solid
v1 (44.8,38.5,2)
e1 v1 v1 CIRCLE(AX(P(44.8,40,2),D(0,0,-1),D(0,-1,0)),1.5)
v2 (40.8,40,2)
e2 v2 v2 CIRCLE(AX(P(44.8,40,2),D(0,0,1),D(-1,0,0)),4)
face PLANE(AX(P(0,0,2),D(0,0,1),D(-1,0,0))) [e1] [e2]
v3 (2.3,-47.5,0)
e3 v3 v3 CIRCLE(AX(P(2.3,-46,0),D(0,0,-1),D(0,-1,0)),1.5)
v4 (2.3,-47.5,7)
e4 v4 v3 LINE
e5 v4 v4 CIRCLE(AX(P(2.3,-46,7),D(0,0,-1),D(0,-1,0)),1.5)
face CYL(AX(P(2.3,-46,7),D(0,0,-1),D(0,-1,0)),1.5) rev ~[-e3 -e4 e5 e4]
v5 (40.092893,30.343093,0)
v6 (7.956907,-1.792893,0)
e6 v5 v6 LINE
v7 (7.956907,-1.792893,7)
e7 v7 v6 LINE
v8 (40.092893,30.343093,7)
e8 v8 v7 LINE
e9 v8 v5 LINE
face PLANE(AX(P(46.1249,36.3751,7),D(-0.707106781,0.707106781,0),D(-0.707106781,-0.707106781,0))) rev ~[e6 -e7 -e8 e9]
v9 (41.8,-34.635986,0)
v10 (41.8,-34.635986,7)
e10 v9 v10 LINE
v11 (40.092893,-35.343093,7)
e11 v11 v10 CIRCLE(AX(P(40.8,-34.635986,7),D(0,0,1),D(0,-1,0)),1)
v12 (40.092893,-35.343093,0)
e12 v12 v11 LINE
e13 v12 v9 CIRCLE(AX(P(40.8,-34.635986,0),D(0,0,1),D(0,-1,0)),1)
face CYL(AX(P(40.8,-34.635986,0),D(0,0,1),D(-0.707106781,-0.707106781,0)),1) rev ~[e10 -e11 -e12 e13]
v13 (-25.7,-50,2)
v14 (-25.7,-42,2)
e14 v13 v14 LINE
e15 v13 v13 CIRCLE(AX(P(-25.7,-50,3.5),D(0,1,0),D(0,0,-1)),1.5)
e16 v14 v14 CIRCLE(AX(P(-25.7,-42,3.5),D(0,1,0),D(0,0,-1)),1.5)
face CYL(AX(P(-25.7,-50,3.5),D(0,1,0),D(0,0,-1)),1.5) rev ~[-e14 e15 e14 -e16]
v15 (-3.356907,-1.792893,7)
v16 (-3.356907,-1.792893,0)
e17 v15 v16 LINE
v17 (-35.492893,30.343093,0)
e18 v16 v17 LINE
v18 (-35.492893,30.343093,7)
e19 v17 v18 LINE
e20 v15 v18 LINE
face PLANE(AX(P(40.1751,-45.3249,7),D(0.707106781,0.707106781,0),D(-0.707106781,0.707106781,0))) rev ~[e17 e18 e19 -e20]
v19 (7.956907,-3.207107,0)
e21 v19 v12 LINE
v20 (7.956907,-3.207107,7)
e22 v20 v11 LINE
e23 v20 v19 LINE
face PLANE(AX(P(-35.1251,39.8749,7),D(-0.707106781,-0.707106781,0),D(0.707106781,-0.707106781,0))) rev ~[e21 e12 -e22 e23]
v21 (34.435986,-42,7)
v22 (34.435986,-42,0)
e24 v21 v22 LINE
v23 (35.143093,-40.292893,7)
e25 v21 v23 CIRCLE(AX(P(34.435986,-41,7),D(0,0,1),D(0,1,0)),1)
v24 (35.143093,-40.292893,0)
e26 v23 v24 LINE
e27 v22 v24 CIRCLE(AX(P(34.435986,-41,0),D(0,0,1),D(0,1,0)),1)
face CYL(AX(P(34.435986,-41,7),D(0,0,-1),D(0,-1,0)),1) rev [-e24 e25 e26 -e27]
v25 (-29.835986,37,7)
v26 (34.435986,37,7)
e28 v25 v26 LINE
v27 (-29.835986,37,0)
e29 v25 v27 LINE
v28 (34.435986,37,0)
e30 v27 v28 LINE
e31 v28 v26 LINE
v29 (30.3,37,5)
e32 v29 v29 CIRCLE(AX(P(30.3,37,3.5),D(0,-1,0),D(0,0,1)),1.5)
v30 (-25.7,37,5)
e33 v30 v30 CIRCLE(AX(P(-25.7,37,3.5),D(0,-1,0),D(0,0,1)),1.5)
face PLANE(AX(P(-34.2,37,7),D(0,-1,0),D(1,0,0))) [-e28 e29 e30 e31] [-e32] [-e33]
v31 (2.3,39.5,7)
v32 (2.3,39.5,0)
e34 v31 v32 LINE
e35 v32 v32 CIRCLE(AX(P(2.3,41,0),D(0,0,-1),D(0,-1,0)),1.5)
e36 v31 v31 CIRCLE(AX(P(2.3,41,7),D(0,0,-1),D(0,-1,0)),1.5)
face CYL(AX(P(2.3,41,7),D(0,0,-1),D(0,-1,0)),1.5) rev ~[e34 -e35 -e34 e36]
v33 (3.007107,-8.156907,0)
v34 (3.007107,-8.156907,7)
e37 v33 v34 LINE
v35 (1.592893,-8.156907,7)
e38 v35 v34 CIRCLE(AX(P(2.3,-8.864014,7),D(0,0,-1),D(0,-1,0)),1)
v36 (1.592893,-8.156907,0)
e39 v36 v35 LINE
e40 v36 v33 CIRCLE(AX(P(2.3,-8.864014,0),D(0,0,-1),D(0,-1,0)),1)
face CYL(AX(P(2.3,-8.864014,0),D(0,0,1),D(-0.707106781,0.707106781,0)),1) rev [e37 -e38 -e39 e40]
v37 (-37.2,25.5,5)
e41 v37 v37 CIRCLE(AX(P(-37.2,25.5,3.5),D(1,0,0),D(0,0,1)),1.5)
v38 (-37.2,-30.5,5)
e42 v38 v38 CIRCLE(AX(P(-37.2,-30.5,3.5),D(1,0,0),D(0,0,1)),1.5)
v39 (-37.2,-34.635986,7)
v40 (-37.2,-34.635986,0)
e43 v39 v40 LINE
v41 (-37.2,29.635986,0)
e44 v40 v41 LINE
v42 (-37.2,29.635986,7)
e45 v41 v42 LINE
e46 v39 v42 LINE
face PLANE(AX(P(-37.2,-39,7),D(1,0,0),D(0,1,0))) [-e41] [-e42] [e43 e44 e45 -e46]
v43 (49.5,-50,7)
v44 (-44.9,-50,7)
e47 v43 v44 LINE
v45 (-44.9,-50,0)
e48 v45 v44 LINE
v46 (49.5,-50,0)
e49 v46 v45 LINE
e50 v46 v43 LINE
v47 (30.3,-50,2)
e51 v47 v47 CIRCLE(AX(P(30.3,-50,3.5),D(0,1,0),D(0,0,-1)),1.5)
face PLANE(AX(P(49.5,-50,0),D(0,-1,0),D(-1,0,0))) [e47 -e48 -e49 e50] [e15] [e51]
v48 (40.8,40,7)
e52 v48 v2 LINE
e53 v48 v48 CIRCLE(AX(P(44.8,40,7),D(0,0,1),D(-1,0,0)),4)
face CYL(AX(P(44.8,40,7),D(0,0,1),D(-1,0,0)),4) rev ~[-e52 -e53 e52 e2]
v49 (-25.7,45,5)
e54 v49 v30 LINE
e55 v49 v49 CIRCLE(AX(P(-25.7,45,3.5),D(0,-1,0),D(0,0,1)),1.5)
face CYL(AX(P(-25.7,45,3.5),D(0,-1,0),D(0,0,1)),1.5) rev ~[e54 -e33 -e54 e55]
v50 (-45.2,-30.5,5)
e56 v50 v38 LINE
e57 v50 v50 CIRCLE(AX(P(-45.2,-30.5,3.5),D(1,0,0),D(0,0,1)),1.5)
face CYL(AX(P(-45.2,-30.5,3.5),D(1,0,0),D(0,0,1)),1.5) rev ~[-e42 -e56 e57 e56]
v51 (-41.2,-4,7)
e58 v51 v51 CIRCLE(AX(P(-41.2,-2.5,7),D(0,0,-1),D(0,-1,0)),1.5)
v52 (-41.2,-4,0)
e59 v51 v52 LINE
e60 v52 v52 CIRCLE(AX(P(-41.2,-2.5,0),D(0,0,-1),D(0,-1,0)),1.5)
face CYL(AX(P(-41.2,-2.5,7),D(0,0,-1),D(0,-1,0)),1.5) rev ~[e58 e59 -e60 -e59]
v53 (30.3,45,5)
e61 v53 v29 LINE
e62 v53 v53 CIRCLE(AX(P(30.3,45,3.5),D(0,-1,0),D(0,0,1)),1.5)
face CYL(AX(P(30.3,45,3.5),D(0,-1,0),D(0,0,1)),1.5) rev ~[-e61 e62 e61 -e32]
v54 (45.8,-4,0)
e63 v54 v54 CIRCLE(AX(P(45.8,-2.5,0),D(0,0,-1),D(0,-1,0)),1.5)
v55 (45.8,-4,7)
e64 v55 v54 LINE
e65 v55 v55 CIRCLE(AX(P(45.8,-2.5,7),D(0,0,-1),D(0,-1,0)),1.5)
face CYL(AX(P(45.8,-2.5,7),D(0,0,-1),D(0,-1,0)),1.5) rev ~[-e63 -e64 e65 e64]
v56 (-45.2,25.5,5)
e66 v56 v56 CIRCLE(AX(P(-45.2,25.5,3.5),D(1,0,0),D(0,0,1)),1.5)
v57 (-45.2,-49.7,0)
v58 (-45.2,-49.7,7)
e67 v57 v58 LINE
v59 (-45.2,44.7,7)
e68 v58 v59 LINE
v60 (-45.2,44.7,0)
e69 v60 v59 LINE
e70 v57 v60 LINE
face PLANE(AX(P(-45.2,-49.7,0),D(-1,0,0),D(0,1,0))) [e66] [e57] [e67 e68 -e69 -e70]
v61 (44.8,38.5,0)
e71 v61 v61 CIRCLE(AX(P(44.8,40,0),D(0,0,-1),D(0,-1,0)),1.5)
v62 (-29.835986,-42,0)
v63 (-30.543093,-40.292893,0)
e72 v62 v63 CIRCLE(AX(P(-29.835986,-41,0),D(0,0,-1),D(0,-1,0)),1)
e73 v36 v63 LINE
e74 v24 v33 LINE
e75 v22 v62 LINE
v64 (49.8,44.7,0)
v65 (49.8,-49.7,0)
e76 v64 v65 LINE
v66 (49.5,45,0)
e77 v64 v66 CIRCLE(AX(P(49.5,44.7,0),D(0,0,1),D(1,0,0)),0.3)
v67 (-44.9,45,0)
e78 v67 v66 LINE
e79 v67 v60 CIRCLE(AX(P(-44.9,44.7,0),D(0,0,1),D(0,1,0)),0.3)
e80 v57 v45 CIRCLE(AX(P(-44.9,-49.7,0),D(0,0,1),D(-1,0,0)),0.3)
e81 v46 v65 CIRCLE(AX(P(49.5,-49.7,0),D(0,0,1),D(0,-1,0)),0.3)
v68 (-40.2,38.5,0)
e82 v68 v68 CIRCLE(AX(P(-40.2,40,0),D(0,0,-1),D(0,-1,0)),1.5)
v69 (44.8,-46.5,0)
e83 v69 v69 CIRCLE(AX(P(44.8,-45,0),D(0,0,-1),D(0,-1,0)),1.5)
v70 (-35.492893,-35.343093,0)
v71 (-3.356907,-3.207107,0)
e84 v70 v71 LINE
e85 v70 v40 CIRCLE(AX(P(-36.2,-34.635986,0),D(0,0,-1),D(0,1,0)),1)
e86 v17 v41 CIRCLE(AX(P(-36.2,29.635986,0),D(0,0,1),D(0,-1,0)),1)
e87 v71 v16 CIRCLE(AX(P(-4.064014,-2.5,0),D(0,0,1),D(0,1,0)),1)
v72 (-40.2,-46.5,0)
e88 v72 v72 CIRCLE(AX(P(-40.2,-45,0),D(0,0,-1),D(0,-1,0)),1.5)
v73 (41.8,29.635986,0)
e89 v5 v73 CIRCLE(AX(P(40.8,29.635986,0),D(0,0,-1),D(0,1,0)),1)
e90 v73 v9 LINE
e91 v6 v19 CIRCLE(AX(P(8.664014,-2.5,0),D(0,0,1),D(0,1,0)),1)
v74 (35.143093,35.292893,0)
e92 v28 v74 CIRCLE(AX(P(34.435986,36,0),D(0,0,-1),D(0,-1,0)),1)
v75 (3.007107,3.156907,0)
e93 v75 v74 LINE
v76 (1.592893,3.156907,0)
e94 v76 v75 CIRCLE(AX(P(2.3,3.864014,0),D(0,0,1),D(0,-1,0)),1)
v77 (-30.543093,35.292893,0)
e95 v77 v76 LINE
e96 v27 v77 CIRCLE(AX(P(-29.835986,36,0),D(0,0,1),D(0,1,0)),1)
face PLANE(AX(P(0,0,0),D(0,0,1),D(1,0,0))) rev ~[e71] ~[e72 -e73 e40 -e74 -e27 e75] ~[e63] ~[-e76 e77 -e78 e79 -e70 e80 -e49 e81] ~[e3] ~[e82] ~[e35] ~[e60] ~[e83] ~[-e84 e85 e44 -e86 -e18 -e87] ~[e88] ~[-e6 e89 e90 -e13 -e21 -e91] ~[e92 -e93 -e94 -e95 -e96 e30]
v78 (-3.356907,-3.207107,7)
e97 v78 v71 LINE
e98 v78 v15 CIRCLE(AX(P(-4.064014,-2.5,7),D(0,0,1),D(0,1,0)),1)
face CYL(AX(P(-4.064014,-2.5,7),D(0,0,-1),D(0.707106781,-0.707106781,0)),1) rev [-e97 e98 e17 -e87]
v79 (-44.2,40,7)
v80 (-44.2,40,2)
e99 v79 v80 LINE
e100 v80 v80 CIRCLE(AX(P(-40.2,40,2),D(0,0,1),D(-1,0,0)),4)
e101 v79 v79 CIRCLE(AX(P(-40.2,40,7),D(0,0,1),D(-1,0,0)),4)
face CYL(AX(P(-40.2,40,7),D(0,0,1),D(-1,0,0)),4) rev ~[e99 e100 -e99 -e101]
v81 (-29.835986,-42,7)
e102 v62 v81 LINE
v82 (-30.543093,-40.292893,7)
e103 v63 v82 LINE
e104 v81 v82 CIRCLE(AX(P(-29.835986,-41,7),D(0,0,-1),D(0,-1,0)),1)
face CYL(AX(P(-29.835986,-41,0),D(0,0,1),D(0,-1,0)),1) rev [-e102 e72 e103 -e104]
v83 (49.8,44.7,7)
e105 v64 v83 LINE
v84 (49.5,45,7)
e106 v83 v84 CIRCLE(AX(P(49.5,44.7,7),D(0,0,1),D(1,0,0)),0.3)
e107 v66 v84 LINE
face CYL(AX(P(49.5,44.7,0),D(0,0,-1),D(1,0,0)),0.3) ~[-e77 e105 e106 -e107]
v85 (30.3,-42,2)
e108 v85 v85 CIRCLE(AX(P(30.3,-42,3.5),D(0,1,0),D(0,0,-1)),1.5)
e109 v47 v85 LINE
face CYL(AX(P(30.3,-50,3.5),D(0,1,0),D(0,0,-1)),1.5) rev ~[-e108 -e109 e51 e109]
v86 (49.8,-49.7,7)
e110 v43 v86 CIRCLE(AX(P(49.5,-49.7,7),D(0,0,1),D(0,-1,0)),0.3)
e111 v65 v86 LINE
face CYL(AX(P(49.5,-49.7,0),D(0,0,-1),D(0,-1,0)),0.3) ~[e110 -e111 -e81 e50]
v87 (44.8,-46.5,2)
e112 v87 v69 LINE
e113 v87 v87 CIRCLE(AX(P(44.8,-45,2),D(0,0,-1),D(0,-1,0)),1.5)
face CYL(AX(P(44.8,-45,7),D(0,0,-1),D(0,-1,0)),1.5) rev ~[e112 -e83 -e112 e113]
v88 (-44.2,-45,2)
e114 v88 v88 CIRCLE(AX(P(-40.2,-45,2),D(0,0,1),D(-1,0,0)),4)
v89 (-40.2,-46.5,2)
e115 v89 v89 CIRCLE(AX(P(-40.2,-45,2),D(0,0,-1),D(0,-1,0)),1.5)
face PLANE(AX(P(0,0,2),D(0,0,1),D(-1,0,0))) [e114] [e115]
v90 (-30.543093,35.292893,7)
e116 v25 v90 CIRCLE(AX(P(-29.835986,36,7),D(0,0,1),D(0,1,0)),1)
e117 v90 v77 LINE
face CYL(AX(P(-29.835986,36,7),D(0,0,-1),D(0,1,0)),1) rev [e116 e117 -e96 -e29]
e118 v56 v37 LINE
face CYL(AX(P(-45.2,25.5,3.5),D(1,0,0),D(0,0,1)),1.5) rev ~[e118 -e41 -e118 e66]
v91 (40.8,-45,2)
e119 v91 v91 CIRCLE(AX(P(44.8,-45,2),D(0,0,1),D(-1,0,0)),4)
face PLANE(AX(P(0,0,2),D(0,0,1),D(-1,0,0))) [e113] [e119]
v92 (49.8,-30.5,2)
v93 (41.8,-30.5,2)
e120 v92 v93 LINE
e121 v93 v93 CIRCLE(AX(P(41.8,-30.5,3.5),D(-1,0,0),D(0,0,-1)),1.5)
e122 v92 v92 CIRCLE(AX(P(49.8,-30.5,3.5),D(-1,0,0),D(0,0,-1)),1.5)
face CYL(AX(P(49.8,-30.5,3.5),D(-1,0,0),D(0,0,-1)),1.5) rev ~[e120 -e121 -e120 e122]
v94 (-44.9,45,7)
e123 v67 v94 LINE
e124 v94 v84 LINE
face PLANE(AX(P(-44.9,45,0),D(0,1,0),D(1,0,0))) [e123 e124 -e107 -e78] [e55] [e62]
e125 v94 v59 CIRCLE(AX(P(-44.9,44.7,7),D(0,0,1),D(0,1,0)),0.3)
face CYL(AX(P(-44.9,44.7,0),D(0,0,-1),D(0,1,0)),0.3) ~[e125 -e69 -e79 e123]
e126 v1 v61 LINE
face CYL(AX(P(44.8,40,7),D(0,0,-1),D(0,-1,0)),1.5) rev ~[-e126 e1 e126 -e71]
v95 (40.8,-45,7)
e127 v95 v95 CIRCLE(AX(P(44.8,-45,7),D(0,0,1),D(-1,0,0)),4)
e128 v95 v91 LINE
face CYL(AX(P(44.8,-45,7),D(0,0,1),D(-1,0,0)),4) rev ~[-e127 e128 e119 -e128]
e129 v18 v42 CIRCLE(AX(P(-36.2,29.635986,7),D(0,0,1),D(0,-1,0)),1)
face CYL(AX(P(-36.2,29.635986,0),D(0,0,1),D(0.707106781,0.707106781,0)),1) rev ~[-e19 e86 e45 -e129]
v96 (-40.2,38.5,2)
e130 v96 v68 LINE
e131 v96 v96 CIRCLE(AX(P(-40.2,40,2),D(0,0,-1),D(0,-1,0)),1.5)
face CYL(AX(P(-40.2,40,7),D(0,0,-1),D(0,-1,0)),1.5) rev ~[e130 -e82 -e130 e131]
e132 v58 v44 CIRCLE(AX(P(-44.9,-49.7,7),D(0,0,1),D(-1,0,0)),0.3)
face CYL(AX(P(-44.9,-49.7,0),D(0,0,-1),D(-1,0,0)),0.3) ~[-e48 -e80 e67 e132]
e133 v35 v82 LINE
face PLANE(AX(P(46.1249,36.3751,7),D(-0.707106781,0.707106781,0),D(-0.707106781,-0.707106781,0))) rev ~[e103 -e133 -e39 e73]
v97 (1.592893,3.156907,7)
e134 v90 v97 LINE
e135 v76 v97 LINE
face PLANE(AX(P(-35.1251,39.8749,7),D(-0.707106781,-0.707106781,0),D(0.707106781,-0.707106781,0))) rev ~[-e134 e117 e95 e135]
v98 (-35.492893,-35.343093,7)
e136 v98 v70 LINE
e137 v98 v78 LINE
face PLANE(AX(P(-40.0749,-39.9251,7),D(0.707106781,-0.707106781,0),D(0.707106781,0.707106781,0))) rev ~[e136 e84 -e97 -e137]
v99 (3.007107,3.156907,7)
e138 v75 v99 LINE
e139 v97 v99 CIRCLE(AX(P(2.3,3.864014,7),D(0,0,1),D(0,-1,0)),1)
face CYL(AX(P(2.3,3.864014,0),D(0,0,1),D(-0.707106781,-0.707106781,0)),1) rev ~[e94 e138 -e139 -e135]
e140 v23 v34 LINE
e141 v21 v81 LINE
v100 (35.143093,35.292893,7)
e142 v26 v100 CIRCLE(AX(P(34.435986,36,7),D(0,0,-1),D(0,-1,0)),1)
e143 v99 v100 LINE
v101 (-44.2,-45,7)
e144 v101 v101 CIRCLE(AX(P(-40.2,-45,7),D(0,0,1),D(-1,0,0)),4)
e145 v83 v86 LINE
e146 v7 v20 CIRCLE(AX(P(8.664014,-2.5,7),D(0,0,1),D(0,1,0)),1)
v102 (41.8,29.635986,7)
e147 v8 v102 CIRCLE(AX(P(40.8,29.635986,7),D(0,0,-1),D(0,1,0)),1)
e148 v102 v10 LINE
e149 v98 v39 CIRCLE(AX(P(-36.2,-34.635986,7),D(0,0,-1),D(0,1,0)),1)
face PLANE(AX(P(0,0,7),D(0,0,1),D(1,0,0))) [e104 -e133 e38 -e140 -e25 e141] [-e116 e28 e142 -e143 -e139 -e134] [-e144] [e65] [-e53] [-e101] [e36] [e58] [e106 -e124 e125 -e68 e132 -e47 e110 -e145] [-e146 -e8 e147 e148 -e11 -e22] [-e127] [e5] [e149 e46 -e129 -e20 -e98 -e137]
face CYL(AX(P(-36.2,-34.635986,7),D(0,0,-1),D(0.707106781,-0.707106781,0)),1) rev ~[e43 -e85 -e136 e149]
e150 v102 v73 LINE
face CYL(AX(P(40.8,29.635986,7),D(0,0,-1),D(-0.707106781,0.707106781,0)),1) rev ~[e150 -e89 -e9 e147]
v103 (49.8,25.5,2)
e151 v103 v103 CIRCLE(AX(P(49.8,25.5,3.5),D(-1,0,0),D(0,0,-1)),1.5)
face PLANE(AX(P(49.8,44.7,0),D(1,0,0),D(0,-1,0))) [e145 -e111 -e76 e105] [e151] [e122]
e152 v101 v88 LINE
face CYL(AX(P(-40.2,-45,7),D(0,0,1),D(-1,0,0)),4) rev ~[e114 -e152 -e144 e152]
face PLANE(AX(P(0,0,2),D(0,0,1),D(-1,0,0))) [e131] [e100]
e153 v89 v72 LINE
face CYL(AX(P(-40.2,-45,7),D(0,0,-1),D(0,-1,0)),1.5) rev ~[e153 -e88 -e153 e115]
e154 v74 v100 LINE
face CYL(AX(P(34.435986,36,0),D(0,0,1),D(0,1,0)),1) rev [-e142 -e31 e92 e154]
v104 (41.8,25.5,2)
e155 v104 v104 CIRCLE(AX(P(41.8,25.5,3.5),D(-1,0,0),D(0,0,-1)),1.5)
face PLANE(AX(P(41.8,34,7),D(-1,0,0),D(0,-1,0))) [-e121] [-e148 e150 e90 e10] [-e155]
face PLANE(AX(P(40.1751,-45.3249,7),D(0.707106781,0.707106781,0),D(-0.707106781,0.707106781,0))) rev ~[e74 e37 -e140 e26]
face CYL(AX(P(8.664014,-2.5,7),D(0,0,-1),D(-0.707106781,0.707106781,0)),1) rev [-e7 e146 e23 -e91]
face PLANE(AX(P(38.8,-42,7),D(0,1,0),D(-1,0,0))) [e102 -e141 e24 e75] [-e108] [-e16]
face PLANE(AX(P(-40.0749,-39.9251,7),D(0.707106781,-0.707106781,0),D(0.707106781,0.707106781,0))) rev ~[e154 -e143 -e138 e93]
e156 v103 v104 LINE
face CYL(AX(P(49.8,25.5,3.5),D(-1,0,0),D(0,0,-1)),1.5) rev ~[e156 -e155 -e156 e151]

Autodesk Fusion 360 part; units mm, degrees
sketch "Sketch1" plane through (0, 0, 0) normal (0, 0, 1) x (1, 0, 0)
  line L0 (-44.9, 45) -> (49.5, 45)
  line L1 (49.8, 44.7) -> (49.8, -49.7)
  line L2 (49.5, -50) -> (-44.9, -50)
  line L3 (-45.2, -49.7) -> (-45.2, 44.7)
  arc A0 (-44.9, 45) -> (-45.2, 44.7) centre (-44.9, 44.7) ccw
  arc A1 (49.8, 44.7) -> (49.5, 45) centre (49.5, 44.7) ccw
  arc A2 (49.5, -50) -> (49.8, -49.7) centre (49.5, -49.7) ccw
  arc A3 (-45.2, -49.7) -> (-44.9, -50) centre (-44.9, -49.7) ccw
  point P0 (-45.2, 45)
  point P1 (49.8, 45)
  point P2 (-45.2, -50)
  dimension "d1" = 95
  dimension "d2" = 95
  dimension "d3" = 0.3
  dimension "d4" = 0.3
extrude "Extrude1" add sketch "Sketch1" along normal blind 7
sketch "Sketch2" plane through (0, 0, 7) normal (0, 0, 1) x (-1, 0, 0)
  arc A0 (44.9, -45) -> (45.2, -44.7) centre (44.9, -44.7) ccw
  line L0 (45.2, -44.7) -> (45.2, 49.7)
  arc A1 (45.2, 49.7) -> (44.9, 50) centre (44.9, 49.7) ccw
  line L1 (44.9, 50) -> (-49.5, 50)
  arc A2 (-49.5, 50) -> (-49.8, 49.7) centre (-49.5, 49.7) ccw
  line L2 (-49.8, 49.7) -> (-49.8, -44.7)
  arc A3 (-49.8, -44.7) -> (-49.5, -45) centre (-49.5, -44.7) ccw
  line L3 (-49.5, -45) -> (44.9, -45)
  line L4 (-38.8, 42) -> (34.2, 42)
  line L5 (37.2, 39) -> (37.2, -34)
  line L6 (34.2, -37) -> (-38.8, -37)
  line L7 (-41.8, -34) -> (-41.8, 39)
  arc A4 (-41.8, -34) -> (-38.8, -37) centre (-38.8, -34) ccw
  arc A5 (-38.8, 42) -> (-41.8, 39) centre (-38.8, 39) ccw
  arc A6 (37.2, 39) -> (34.2, 42) centre (34.2, 39) ccw
  arc A7 (34.2, -37) -> (37.2, -34) centre (34.2, -34) ccw
  point P0 (-41.8, 42)
  point P1 (37.2, 42)
  point P2 (-41.8, -37)
  dimension "d7" = 79
  dimension "d8" = 79
  dimension "d9" = 8
  dimension "d10" = 8
  dimension "d11" = 3
extrude "Extrude2" cut sketch "Sketch2" against normal blind 10 contours L4 L5 L6 L7 A4 A5 A6 A7
sketch "Sketch3" plane through (0, 0, 7) normal (0, 0, 1) x (-1, 0, 0)
  line L0 (34.2, -37) -> (-38.8, -37)
  arc A0 (-41.8, -34) -> (-38.8, -37) centre (-38.8, -34) ccw
  line L1 (-41.8, -34) -> (-41.8, 39)
  arc A1 (-38.8, 42) -> (-41.8, 39) centre (-38.8, 39) ccw
  line L2 (-38.8, 42) -> (34.2, 42)
  arc A2 (37.2, 39) -> (34.2, 42) centre (34.2, 39) ccw
  line L3 (37.2, 39) -> (37.2, -34)
  arc A3 (34.2, -37) -> (37.2, -34) centre (34.2, -34) ccw
  arc A4 (44.9, -45) -> (45.2, -44.7) centre (44.9, -44.7) ccw
  line L4 (45.2, -44.7) -> (45.2, 49.7)
  arc A5 (45.2, 49.7) -> (44.9, 50) centre (44.9, 49.7) ccw
  line L5 (44.9, 50) -> (-49.5, 50)
  arc A6 (-49.5, 50) -> (-49.8, 49.7) centre (-49.5, 49.7) ccw
  line L6 (-49.8, 49.7) -> (-49.8, -44.7)
  arc A7 (-49.8, -44.7) -> (-49.5, -45) centre (-49.5, -44.7) ccw
  line L7 (-49.5, -45) -> (44.9, -45)
  line L8 (45.2, -45) -> (-49.75, 49.95)
sketch "Sketch4" plane through (0, 0, 7) normal (0, 0, 1) x (-1, 0, 0)
  line L0 (45.2, 50) -> (-49.8, -45)
sketch "Sketch5" plane through (0, 0, 7) normal (0, 0, 1) x (-1, 0, 0)
  line L0 (40.0749, -34.9251) -> (35.1251, -39.8749)
  line L1 (35.1251, -39.8749) -> (-45.1249, 40.3751)
  line L2 (-45.1249, 40.3751) -> (-40.1751, 45.3249)
  line L3 (-40.1751, 45.3249) -> (40.0749, -34.9251)
  line L4 (45.2, -45) -> (-49.75, 49.95)
  dimension "d14" = 3.5
  dimension "d15" = 3.5
extrude "Extrude3" add sketch "Sketch5" against normal blind 7
sketch "Sketch6" plane through (0, 0, 7) normal (0, 0, 1) x (-1, 0, 0)
  line L0 (35.1251, 44.8749) -> (40.0749, 39.9251)
  line L1 (40.0749, 39.9251) -> (-41.1751, -41.3249)
  line L2 (-41.1751, -41.3249) -> (-46.1249, -36.3751)
  line L3 (-46.1249, -36.3751) -> (35.1251, 44.8749)
  line L4 (45.2, 50) -> (-49.8, -45)
  dimension "d18" = 3.5
  dimension "d19" = 3.5
extrude "Extrude4" add sketch "Sketch6" against normal blind 7
sketch "Sketch7" plane through (0, 0, 7) normal (0, 0, 1) x (-1, 0, 0)
  line L0 (37.2, 37.0503) -> (37.2, -32.0503)
  line L1 (37.2, -32.0503) -> (2.6497, 2.5)
  line L2 (2.6497, 2.5) -> (37.2, 37.0503)
  line L3 (-2.3, -2.4497) -> (32.2503, -37)
  line L4 (32.2503, -37) -> (-36.8503, -37)
  line L5 (-36.8503, -37) -> (-2.3, -2.4497)
  line L6 (-7.2497, 2.5) -> (-41.8, -32.0503)
  line L7 (-41.8, -32.0503) -> (-41.8, 37.0503)
  line L8 (-41.8, 37.0503) -> (-7.2497, 2.5)
  line L9 (32.2503, 42) -> (-2.3, 7.4497)
  line L10 (-2.3, 7.4497) -> (-36.8503, 42)
  line L11 (-36.8503, 42) -> (32.2503, 42)
  arc A0 (44.9, -45) -> (45.2, -44.7) centre (44.9, -44.7) ccw
  line L12 (45.2, -44.7) -> (45.2, 49.7)
  arc A1 (45.2, 49.7) -> (44.9, 50) centre (44.9, 49.7) ccw
  line L13 (44.9, 50) -> (-49.5, 50)
  arc A2 (-49.5, 50) -> (-49.8, 49.7) centre (-49.5, 49.7) ccw
  line L14 (-49.8, 49.7) -> (-49.8, -44.7)
  arc A3 (-49.8, -44.7) -> (-49.5, -45) centre (-49.5, -44.7) ccw
  line L15 (-49.5, -45) -> (44.9, -45)
fillet "Fillet1" radius 1 1 edges at (36.8503, -42, 3.5)
fillet "Fillet2" radius 1 1 edges at (41.8, -37.0503, 3.5)
fillet "Fillet3" radius 1 1 edges at (41.8, 32.0503, 3.5)
fillet "Fillet4" radius 1 1 edges at (36.8503, 37, 3.5)
fillet "Fillet5" radius 1 1 edges at (-32.2503, 37, 3.5)
fillet "Fillet6" radius 1 1 edges at (-37.2, 32.0503, 3.5)
fillet "Fillet7" radius 1 1 edges at (-37.2, -37.0503, 3.5)
fillet "Fillet8" radius 1 1 edges at (-32.2503, -42, 3.5)
fillet "Fillet9" radius 1 1 edges at (-2.6497, -2.5, 3.5)
fillet "Fillet10" radius 1 1 edges at (2.3, -7.4497, 3.5)
fillet "Fillet11" radius 1 1 edges at (7.2497, -2.5, 3.5)
fillet "Fillet12" radius 1 1 edges at (2.3, 2.4497, 3.5)
sketch "Sketch8" plane through (0, 0, 7) normal (0, 0, 1) x (-1, 0, 0)
  line L0 (37.2, 34.636) -> (37.2, -29.636)
  arc A0 (35.4929, -30.3431) -> (37.2, -29.636) centre (36.2, -29.636) ccw
  line L1 (35.4929, -30.3431) -> (3.3569, 1.7929)
  arc A1 (3.3569, 3.2071) -> (3.3569, 1.7929) centre (4.064, 2.5) ccw
  line L2 (3.3569, 3.2071) -> (35.4929, 35.3431)
  arc A2 (37.2, 34.636) -> (35.4929, 35.3431) centre (36.2, 34.636) ccw
  arc A3 (29.836, -37) -> (30.5431, -35.2929) centre (29.836, -36) ccw
  line L3 (29.836, -37) -> (-34.436, -37)
  arc A4 (-35.1431, -35.2929) -> (-34.436, -37) centre (-34.436, -36) ccw
  line L4 (-35.1431, -35.2929) -> (-3.0071, -3.1569)
  arc A5 (-1.5929, -3.1569) -> (-3.0071, -3.1569) centre (-2.3, -3.864) ccw
  line L5 (-1.5929, -3.1569) -> (30.5431, -35.2929)
  line L6 (-41.8, -29.636) -> (-41.8, 34.636)
  arc A6 (-40.0929, 35.3431) -> (-41.8, 34.636) centre (-40.8, 34.636) ccw
  line L7 (-40.0929, 35.3431) -> (-7.9569, 3.2071)
  arc A7 (-7.9569, 1.7929) -> (-7.9569, 3.2071) centre (-8.664, 2.5) ccw
  line L8 (-7.9569, 1.7929) -> (-40.0929, -30.3431)
  arc A8 (-41.8, -29.636) -> (-40.0929, -30.3431) centre (-40.8, -29.636) ccw
  line L9 (-3.0071, 8.1569) -> (-35.1431, 40.2929)
  arc A9 (-34.436, 42) -> (-35.1431, 40.2929) centre (-34.436, 41) ccw
  line L10 (-34.436, 42) -> (29.836, 42)
  arc A10 (30.5431, 40.2929) -> (29.836, 42) centre (29.836, 41) ccw
  line L11 (30.5431, 40.2929) -> (-1.5929, 8.1569)
  arc A11 (-3.0071, 8.1569) -> (-1.5929, 8.1569) centre (-2.3, 8.864) ccw
  arc A12 (44.9, -45) -> (45.2, -44.7) centre (44.9, -44.7) ccw
  line L12 (45.2, -44.7) -> (45.2, 49.7)
  arc A13 (45.2, 49.7) -> (44.9, 50) centre (44.9, 49.7) ccw
  line L13 (44.9, 50) -> (-49.5, 50)
  arc A14 (-49.5, 50) -> (-49.8, 49.7) centre (-49.5, 49.7) ccw
  line L14 (-49.8, 49.7) -> (-49.8, -44.7)
  arc A15 (-49.8, -44.7) -> (-49.5, -45) centre (-49.5, -44.7) ccw
  line L15 (-49.5, -45) -> (44.9, -45)
  line L16 (44.9, 50) -> (-49.5, 50)
  line L17 (-49.5, -45) -> (44.9, -45)
  point P0 (40.2, 45)
  point P1 (-44.8, 45)
  point P2 (40.2, -40)
  point P3 (-44.8, -40)
  dimension "d46" = 5
  dimension "d47" = 5
  dimension "d48" = 5
  dimension "d49" = 5
  dimension "d50" = 5
  dimension "d51" = 5
  dimension "d52" = 5
  dimension "d53" = 5
hole "Hole1" at (44.8, 40, 7) at (-40.2, 40, 7) at (-40.2, -45, 7) at (44.8, -45, 7) direction (0, 0, -1) diameter 3 depth 15 tip angle 118
sketch "Sketch9" plane through (0, 0, 7) normal (0, 0, 1) x (-1, 0, 0)
  circle A0 centre (40.2, -40) radius 4
  line L0 (45.2, -44.7) -> (45.2, 49.7)
  line L1 (-49.5, -45) -> (44.9, -45)
  circle A1 centre (-44.8, -40) radius 4
  line L2 (-49.8, 49.7) -> (-49.8, -44.7)
  circle A2 centre (-44.8, 45) radius 4
  line L3 (44.9, 50) -> (-49.5, 50)
  circle A3 centre (40.2, 45) radius 4
  dimension "d57" = 8
  dimension "d58" = 5
  dimension "d59" = 5
  dimension "d60" = 8
  dimension "d61" = 5
  dimension "d62" = 5
  dimension "d63" = 8
  dimension "d64" = 5
  dimension "d65" = 5
  dimension "d66" = 8
  dimension "d67" = 5
  dimension "d68" = 5
extrude "Extrude5" cut sketch "Sketch9" against normal blind 5
sketch "Sketch10" plane through (0, 0, 7) normal (0, 0, 1) x (-1, 0, 0)
  line L0 (45.2, -44.7) -> (45.2, 49.7)
  line L1 (-49.5, -45) -> (44.9, -45)
  line L2 (-49.8, 49.7) -> (-49.8, -44.7)
  line L3 (44.9, 50) -> (-49.5, 50)
  point P0 (-2.3, -41)
  point P1 (41.2, 2.5)
  point P2 (-2.3, 46)
  point P3 (-45.8, 2.5)
  dimension "d71" = 4
  dimension "d72" = 47.5
  dimension "d73" = 4
  dimension "d74" = 47.5
  dimension "d75" = 4
  dimension "d76" = 47.5
  dimension "d77" = 4
  dimension "d78" = 47.5
hole "Hole2" at (2.3, -46, 7) at (-41.2, -2.5, 7) at (45.8, -2.5, 7) at (2.3, 41, 7) direction (0, 0, -1) diameter 3 depth 15 tip angle 118
sketch "Sketch11" plane through (0, -50, 0) normal (0, -1, 0) x (1, 0, 0)
  line L0 (-44.9, 0) -> (49.5, 0)
  line L1 (49.5, 0) -> (49.5, 7)
  line L2 (49.5, 7) -> (-44.9, 7)
  line L3 (-44.9, 7) -> (-44.9, 0)
  line L4 (49.8, 0) -> (49.8, 7)
  point P0 (-25.7, 3.5)
  point P1 (2.3, 3.5)
  point P2 (30.3, 3.5)
  dimension "d82" = 3.5
  dimension "d83" = 28
  dimension "d84" = 28
  dimension "d85" = 47.5
  dimension "d86" = 3.5
  dimension "d87" = 3.5
hole "Hole3" at (-25.7, -50, 3.5) at (30.3, -50, 3.5) direction (0, 1, 0) diameter 3 depth 11 tip angle 118
sketch "Sketch12" plane through (49.8, 0, 0) normal (1, 0, 0) x (0, 1, 0)
  line L0 (-49.7, 0) -> (44.7, 0)
  line L1 (44.7, 0) -> (44.7, 7)
  line L2 (44.7, 7) -> (-49.7, 7)
  line L3 (-49.7, 7) -> (-49.7, 0)
  line L4 (-50, 0) -> (-50, 7)
  point P0 (-30.5, 3.5)
  point P1 (-2.5, 3.5)
  point P2 (25.5, 3.5)
  dimension "d91" = 47.5
  dimension "d92" = 28
  dimension "d93" = 28
  dimension "d94" = 3.5
  dimension "d95" = 3.5
  dimension "d96" = 3.5
hole "Hole4" at (49.8, -30.5, 3.5) at (49.8, 25.5, 3.5) direction (-1, 0, 0) diameter 3 depth 11 tip angle 118
sketch "Sketch13" plane through (0, 0, 7) normal (0, 0, 1) x (1, 0, 0)
sketch "Sketch14" plane through (0, 45, 0) normal (0, 1, 0) x (-1, 0, 0)
  line L0 (-49.5, 0) -> (44.9, 0)
  line L1 (44.9, 0) -> (44.9, 7)
  line L2 (44.9, 7) -> (-49.5, 7)
  line L3 (-49.5, 7) -> (-49.5, 0)
  line L4 (-49.8, 0) -> (-49.8, 7)
  point P0 (-30.3, 3.5)
  point P1 (-2.3, 3.5)
  point P2 (25.7, 3.5)
  dimension "d100" = 47.5
  dimension "d101" = 28
  dimension "d102" = 28
  dimension "d103" = 3.5
  dimension "d104" = 3.5
  dimension "d105" = 3.5
hole "Hole5" at (30.3, 45, 3.5) at (-25.7, 45, 3.5) direction (0, -1, 0) diameter 3 depth 11 tip angle 118
sketch "Sketch15" plane through (-45.2, 0, 0) normal (-1, 0, 0) x (0, -1, 0)
  line L0 (-44.7, 0) -> (49.7, 0)
  line L1 (49.7, 0) -> (49.7, 7)
  line L2 (49.7, 7) -> (-44.7, 7)
  line L3 (-44.7, 7) -> (-44.7, 0)
  line L4 (-45, 0) -> (-45, 7)
  point P0 (-25.5, 3.5)
  point P1 (2.5, 3.5)
  point P2 (30.5, 3.5)
  dimension "d109" = 47.5
  dimension "d110" = 28
  dimension "d111" = 28
  dimension "d112" = 3.5
  dimension "d113" = 3.5
  dimension "d114" = 3.5
hole "Hole6" at (-45.2, 25.5, 3.5) at (-45.2, -30.5, 3.5) direction (1, 0, 0) diameter 3 depth 11 tip angle 118
